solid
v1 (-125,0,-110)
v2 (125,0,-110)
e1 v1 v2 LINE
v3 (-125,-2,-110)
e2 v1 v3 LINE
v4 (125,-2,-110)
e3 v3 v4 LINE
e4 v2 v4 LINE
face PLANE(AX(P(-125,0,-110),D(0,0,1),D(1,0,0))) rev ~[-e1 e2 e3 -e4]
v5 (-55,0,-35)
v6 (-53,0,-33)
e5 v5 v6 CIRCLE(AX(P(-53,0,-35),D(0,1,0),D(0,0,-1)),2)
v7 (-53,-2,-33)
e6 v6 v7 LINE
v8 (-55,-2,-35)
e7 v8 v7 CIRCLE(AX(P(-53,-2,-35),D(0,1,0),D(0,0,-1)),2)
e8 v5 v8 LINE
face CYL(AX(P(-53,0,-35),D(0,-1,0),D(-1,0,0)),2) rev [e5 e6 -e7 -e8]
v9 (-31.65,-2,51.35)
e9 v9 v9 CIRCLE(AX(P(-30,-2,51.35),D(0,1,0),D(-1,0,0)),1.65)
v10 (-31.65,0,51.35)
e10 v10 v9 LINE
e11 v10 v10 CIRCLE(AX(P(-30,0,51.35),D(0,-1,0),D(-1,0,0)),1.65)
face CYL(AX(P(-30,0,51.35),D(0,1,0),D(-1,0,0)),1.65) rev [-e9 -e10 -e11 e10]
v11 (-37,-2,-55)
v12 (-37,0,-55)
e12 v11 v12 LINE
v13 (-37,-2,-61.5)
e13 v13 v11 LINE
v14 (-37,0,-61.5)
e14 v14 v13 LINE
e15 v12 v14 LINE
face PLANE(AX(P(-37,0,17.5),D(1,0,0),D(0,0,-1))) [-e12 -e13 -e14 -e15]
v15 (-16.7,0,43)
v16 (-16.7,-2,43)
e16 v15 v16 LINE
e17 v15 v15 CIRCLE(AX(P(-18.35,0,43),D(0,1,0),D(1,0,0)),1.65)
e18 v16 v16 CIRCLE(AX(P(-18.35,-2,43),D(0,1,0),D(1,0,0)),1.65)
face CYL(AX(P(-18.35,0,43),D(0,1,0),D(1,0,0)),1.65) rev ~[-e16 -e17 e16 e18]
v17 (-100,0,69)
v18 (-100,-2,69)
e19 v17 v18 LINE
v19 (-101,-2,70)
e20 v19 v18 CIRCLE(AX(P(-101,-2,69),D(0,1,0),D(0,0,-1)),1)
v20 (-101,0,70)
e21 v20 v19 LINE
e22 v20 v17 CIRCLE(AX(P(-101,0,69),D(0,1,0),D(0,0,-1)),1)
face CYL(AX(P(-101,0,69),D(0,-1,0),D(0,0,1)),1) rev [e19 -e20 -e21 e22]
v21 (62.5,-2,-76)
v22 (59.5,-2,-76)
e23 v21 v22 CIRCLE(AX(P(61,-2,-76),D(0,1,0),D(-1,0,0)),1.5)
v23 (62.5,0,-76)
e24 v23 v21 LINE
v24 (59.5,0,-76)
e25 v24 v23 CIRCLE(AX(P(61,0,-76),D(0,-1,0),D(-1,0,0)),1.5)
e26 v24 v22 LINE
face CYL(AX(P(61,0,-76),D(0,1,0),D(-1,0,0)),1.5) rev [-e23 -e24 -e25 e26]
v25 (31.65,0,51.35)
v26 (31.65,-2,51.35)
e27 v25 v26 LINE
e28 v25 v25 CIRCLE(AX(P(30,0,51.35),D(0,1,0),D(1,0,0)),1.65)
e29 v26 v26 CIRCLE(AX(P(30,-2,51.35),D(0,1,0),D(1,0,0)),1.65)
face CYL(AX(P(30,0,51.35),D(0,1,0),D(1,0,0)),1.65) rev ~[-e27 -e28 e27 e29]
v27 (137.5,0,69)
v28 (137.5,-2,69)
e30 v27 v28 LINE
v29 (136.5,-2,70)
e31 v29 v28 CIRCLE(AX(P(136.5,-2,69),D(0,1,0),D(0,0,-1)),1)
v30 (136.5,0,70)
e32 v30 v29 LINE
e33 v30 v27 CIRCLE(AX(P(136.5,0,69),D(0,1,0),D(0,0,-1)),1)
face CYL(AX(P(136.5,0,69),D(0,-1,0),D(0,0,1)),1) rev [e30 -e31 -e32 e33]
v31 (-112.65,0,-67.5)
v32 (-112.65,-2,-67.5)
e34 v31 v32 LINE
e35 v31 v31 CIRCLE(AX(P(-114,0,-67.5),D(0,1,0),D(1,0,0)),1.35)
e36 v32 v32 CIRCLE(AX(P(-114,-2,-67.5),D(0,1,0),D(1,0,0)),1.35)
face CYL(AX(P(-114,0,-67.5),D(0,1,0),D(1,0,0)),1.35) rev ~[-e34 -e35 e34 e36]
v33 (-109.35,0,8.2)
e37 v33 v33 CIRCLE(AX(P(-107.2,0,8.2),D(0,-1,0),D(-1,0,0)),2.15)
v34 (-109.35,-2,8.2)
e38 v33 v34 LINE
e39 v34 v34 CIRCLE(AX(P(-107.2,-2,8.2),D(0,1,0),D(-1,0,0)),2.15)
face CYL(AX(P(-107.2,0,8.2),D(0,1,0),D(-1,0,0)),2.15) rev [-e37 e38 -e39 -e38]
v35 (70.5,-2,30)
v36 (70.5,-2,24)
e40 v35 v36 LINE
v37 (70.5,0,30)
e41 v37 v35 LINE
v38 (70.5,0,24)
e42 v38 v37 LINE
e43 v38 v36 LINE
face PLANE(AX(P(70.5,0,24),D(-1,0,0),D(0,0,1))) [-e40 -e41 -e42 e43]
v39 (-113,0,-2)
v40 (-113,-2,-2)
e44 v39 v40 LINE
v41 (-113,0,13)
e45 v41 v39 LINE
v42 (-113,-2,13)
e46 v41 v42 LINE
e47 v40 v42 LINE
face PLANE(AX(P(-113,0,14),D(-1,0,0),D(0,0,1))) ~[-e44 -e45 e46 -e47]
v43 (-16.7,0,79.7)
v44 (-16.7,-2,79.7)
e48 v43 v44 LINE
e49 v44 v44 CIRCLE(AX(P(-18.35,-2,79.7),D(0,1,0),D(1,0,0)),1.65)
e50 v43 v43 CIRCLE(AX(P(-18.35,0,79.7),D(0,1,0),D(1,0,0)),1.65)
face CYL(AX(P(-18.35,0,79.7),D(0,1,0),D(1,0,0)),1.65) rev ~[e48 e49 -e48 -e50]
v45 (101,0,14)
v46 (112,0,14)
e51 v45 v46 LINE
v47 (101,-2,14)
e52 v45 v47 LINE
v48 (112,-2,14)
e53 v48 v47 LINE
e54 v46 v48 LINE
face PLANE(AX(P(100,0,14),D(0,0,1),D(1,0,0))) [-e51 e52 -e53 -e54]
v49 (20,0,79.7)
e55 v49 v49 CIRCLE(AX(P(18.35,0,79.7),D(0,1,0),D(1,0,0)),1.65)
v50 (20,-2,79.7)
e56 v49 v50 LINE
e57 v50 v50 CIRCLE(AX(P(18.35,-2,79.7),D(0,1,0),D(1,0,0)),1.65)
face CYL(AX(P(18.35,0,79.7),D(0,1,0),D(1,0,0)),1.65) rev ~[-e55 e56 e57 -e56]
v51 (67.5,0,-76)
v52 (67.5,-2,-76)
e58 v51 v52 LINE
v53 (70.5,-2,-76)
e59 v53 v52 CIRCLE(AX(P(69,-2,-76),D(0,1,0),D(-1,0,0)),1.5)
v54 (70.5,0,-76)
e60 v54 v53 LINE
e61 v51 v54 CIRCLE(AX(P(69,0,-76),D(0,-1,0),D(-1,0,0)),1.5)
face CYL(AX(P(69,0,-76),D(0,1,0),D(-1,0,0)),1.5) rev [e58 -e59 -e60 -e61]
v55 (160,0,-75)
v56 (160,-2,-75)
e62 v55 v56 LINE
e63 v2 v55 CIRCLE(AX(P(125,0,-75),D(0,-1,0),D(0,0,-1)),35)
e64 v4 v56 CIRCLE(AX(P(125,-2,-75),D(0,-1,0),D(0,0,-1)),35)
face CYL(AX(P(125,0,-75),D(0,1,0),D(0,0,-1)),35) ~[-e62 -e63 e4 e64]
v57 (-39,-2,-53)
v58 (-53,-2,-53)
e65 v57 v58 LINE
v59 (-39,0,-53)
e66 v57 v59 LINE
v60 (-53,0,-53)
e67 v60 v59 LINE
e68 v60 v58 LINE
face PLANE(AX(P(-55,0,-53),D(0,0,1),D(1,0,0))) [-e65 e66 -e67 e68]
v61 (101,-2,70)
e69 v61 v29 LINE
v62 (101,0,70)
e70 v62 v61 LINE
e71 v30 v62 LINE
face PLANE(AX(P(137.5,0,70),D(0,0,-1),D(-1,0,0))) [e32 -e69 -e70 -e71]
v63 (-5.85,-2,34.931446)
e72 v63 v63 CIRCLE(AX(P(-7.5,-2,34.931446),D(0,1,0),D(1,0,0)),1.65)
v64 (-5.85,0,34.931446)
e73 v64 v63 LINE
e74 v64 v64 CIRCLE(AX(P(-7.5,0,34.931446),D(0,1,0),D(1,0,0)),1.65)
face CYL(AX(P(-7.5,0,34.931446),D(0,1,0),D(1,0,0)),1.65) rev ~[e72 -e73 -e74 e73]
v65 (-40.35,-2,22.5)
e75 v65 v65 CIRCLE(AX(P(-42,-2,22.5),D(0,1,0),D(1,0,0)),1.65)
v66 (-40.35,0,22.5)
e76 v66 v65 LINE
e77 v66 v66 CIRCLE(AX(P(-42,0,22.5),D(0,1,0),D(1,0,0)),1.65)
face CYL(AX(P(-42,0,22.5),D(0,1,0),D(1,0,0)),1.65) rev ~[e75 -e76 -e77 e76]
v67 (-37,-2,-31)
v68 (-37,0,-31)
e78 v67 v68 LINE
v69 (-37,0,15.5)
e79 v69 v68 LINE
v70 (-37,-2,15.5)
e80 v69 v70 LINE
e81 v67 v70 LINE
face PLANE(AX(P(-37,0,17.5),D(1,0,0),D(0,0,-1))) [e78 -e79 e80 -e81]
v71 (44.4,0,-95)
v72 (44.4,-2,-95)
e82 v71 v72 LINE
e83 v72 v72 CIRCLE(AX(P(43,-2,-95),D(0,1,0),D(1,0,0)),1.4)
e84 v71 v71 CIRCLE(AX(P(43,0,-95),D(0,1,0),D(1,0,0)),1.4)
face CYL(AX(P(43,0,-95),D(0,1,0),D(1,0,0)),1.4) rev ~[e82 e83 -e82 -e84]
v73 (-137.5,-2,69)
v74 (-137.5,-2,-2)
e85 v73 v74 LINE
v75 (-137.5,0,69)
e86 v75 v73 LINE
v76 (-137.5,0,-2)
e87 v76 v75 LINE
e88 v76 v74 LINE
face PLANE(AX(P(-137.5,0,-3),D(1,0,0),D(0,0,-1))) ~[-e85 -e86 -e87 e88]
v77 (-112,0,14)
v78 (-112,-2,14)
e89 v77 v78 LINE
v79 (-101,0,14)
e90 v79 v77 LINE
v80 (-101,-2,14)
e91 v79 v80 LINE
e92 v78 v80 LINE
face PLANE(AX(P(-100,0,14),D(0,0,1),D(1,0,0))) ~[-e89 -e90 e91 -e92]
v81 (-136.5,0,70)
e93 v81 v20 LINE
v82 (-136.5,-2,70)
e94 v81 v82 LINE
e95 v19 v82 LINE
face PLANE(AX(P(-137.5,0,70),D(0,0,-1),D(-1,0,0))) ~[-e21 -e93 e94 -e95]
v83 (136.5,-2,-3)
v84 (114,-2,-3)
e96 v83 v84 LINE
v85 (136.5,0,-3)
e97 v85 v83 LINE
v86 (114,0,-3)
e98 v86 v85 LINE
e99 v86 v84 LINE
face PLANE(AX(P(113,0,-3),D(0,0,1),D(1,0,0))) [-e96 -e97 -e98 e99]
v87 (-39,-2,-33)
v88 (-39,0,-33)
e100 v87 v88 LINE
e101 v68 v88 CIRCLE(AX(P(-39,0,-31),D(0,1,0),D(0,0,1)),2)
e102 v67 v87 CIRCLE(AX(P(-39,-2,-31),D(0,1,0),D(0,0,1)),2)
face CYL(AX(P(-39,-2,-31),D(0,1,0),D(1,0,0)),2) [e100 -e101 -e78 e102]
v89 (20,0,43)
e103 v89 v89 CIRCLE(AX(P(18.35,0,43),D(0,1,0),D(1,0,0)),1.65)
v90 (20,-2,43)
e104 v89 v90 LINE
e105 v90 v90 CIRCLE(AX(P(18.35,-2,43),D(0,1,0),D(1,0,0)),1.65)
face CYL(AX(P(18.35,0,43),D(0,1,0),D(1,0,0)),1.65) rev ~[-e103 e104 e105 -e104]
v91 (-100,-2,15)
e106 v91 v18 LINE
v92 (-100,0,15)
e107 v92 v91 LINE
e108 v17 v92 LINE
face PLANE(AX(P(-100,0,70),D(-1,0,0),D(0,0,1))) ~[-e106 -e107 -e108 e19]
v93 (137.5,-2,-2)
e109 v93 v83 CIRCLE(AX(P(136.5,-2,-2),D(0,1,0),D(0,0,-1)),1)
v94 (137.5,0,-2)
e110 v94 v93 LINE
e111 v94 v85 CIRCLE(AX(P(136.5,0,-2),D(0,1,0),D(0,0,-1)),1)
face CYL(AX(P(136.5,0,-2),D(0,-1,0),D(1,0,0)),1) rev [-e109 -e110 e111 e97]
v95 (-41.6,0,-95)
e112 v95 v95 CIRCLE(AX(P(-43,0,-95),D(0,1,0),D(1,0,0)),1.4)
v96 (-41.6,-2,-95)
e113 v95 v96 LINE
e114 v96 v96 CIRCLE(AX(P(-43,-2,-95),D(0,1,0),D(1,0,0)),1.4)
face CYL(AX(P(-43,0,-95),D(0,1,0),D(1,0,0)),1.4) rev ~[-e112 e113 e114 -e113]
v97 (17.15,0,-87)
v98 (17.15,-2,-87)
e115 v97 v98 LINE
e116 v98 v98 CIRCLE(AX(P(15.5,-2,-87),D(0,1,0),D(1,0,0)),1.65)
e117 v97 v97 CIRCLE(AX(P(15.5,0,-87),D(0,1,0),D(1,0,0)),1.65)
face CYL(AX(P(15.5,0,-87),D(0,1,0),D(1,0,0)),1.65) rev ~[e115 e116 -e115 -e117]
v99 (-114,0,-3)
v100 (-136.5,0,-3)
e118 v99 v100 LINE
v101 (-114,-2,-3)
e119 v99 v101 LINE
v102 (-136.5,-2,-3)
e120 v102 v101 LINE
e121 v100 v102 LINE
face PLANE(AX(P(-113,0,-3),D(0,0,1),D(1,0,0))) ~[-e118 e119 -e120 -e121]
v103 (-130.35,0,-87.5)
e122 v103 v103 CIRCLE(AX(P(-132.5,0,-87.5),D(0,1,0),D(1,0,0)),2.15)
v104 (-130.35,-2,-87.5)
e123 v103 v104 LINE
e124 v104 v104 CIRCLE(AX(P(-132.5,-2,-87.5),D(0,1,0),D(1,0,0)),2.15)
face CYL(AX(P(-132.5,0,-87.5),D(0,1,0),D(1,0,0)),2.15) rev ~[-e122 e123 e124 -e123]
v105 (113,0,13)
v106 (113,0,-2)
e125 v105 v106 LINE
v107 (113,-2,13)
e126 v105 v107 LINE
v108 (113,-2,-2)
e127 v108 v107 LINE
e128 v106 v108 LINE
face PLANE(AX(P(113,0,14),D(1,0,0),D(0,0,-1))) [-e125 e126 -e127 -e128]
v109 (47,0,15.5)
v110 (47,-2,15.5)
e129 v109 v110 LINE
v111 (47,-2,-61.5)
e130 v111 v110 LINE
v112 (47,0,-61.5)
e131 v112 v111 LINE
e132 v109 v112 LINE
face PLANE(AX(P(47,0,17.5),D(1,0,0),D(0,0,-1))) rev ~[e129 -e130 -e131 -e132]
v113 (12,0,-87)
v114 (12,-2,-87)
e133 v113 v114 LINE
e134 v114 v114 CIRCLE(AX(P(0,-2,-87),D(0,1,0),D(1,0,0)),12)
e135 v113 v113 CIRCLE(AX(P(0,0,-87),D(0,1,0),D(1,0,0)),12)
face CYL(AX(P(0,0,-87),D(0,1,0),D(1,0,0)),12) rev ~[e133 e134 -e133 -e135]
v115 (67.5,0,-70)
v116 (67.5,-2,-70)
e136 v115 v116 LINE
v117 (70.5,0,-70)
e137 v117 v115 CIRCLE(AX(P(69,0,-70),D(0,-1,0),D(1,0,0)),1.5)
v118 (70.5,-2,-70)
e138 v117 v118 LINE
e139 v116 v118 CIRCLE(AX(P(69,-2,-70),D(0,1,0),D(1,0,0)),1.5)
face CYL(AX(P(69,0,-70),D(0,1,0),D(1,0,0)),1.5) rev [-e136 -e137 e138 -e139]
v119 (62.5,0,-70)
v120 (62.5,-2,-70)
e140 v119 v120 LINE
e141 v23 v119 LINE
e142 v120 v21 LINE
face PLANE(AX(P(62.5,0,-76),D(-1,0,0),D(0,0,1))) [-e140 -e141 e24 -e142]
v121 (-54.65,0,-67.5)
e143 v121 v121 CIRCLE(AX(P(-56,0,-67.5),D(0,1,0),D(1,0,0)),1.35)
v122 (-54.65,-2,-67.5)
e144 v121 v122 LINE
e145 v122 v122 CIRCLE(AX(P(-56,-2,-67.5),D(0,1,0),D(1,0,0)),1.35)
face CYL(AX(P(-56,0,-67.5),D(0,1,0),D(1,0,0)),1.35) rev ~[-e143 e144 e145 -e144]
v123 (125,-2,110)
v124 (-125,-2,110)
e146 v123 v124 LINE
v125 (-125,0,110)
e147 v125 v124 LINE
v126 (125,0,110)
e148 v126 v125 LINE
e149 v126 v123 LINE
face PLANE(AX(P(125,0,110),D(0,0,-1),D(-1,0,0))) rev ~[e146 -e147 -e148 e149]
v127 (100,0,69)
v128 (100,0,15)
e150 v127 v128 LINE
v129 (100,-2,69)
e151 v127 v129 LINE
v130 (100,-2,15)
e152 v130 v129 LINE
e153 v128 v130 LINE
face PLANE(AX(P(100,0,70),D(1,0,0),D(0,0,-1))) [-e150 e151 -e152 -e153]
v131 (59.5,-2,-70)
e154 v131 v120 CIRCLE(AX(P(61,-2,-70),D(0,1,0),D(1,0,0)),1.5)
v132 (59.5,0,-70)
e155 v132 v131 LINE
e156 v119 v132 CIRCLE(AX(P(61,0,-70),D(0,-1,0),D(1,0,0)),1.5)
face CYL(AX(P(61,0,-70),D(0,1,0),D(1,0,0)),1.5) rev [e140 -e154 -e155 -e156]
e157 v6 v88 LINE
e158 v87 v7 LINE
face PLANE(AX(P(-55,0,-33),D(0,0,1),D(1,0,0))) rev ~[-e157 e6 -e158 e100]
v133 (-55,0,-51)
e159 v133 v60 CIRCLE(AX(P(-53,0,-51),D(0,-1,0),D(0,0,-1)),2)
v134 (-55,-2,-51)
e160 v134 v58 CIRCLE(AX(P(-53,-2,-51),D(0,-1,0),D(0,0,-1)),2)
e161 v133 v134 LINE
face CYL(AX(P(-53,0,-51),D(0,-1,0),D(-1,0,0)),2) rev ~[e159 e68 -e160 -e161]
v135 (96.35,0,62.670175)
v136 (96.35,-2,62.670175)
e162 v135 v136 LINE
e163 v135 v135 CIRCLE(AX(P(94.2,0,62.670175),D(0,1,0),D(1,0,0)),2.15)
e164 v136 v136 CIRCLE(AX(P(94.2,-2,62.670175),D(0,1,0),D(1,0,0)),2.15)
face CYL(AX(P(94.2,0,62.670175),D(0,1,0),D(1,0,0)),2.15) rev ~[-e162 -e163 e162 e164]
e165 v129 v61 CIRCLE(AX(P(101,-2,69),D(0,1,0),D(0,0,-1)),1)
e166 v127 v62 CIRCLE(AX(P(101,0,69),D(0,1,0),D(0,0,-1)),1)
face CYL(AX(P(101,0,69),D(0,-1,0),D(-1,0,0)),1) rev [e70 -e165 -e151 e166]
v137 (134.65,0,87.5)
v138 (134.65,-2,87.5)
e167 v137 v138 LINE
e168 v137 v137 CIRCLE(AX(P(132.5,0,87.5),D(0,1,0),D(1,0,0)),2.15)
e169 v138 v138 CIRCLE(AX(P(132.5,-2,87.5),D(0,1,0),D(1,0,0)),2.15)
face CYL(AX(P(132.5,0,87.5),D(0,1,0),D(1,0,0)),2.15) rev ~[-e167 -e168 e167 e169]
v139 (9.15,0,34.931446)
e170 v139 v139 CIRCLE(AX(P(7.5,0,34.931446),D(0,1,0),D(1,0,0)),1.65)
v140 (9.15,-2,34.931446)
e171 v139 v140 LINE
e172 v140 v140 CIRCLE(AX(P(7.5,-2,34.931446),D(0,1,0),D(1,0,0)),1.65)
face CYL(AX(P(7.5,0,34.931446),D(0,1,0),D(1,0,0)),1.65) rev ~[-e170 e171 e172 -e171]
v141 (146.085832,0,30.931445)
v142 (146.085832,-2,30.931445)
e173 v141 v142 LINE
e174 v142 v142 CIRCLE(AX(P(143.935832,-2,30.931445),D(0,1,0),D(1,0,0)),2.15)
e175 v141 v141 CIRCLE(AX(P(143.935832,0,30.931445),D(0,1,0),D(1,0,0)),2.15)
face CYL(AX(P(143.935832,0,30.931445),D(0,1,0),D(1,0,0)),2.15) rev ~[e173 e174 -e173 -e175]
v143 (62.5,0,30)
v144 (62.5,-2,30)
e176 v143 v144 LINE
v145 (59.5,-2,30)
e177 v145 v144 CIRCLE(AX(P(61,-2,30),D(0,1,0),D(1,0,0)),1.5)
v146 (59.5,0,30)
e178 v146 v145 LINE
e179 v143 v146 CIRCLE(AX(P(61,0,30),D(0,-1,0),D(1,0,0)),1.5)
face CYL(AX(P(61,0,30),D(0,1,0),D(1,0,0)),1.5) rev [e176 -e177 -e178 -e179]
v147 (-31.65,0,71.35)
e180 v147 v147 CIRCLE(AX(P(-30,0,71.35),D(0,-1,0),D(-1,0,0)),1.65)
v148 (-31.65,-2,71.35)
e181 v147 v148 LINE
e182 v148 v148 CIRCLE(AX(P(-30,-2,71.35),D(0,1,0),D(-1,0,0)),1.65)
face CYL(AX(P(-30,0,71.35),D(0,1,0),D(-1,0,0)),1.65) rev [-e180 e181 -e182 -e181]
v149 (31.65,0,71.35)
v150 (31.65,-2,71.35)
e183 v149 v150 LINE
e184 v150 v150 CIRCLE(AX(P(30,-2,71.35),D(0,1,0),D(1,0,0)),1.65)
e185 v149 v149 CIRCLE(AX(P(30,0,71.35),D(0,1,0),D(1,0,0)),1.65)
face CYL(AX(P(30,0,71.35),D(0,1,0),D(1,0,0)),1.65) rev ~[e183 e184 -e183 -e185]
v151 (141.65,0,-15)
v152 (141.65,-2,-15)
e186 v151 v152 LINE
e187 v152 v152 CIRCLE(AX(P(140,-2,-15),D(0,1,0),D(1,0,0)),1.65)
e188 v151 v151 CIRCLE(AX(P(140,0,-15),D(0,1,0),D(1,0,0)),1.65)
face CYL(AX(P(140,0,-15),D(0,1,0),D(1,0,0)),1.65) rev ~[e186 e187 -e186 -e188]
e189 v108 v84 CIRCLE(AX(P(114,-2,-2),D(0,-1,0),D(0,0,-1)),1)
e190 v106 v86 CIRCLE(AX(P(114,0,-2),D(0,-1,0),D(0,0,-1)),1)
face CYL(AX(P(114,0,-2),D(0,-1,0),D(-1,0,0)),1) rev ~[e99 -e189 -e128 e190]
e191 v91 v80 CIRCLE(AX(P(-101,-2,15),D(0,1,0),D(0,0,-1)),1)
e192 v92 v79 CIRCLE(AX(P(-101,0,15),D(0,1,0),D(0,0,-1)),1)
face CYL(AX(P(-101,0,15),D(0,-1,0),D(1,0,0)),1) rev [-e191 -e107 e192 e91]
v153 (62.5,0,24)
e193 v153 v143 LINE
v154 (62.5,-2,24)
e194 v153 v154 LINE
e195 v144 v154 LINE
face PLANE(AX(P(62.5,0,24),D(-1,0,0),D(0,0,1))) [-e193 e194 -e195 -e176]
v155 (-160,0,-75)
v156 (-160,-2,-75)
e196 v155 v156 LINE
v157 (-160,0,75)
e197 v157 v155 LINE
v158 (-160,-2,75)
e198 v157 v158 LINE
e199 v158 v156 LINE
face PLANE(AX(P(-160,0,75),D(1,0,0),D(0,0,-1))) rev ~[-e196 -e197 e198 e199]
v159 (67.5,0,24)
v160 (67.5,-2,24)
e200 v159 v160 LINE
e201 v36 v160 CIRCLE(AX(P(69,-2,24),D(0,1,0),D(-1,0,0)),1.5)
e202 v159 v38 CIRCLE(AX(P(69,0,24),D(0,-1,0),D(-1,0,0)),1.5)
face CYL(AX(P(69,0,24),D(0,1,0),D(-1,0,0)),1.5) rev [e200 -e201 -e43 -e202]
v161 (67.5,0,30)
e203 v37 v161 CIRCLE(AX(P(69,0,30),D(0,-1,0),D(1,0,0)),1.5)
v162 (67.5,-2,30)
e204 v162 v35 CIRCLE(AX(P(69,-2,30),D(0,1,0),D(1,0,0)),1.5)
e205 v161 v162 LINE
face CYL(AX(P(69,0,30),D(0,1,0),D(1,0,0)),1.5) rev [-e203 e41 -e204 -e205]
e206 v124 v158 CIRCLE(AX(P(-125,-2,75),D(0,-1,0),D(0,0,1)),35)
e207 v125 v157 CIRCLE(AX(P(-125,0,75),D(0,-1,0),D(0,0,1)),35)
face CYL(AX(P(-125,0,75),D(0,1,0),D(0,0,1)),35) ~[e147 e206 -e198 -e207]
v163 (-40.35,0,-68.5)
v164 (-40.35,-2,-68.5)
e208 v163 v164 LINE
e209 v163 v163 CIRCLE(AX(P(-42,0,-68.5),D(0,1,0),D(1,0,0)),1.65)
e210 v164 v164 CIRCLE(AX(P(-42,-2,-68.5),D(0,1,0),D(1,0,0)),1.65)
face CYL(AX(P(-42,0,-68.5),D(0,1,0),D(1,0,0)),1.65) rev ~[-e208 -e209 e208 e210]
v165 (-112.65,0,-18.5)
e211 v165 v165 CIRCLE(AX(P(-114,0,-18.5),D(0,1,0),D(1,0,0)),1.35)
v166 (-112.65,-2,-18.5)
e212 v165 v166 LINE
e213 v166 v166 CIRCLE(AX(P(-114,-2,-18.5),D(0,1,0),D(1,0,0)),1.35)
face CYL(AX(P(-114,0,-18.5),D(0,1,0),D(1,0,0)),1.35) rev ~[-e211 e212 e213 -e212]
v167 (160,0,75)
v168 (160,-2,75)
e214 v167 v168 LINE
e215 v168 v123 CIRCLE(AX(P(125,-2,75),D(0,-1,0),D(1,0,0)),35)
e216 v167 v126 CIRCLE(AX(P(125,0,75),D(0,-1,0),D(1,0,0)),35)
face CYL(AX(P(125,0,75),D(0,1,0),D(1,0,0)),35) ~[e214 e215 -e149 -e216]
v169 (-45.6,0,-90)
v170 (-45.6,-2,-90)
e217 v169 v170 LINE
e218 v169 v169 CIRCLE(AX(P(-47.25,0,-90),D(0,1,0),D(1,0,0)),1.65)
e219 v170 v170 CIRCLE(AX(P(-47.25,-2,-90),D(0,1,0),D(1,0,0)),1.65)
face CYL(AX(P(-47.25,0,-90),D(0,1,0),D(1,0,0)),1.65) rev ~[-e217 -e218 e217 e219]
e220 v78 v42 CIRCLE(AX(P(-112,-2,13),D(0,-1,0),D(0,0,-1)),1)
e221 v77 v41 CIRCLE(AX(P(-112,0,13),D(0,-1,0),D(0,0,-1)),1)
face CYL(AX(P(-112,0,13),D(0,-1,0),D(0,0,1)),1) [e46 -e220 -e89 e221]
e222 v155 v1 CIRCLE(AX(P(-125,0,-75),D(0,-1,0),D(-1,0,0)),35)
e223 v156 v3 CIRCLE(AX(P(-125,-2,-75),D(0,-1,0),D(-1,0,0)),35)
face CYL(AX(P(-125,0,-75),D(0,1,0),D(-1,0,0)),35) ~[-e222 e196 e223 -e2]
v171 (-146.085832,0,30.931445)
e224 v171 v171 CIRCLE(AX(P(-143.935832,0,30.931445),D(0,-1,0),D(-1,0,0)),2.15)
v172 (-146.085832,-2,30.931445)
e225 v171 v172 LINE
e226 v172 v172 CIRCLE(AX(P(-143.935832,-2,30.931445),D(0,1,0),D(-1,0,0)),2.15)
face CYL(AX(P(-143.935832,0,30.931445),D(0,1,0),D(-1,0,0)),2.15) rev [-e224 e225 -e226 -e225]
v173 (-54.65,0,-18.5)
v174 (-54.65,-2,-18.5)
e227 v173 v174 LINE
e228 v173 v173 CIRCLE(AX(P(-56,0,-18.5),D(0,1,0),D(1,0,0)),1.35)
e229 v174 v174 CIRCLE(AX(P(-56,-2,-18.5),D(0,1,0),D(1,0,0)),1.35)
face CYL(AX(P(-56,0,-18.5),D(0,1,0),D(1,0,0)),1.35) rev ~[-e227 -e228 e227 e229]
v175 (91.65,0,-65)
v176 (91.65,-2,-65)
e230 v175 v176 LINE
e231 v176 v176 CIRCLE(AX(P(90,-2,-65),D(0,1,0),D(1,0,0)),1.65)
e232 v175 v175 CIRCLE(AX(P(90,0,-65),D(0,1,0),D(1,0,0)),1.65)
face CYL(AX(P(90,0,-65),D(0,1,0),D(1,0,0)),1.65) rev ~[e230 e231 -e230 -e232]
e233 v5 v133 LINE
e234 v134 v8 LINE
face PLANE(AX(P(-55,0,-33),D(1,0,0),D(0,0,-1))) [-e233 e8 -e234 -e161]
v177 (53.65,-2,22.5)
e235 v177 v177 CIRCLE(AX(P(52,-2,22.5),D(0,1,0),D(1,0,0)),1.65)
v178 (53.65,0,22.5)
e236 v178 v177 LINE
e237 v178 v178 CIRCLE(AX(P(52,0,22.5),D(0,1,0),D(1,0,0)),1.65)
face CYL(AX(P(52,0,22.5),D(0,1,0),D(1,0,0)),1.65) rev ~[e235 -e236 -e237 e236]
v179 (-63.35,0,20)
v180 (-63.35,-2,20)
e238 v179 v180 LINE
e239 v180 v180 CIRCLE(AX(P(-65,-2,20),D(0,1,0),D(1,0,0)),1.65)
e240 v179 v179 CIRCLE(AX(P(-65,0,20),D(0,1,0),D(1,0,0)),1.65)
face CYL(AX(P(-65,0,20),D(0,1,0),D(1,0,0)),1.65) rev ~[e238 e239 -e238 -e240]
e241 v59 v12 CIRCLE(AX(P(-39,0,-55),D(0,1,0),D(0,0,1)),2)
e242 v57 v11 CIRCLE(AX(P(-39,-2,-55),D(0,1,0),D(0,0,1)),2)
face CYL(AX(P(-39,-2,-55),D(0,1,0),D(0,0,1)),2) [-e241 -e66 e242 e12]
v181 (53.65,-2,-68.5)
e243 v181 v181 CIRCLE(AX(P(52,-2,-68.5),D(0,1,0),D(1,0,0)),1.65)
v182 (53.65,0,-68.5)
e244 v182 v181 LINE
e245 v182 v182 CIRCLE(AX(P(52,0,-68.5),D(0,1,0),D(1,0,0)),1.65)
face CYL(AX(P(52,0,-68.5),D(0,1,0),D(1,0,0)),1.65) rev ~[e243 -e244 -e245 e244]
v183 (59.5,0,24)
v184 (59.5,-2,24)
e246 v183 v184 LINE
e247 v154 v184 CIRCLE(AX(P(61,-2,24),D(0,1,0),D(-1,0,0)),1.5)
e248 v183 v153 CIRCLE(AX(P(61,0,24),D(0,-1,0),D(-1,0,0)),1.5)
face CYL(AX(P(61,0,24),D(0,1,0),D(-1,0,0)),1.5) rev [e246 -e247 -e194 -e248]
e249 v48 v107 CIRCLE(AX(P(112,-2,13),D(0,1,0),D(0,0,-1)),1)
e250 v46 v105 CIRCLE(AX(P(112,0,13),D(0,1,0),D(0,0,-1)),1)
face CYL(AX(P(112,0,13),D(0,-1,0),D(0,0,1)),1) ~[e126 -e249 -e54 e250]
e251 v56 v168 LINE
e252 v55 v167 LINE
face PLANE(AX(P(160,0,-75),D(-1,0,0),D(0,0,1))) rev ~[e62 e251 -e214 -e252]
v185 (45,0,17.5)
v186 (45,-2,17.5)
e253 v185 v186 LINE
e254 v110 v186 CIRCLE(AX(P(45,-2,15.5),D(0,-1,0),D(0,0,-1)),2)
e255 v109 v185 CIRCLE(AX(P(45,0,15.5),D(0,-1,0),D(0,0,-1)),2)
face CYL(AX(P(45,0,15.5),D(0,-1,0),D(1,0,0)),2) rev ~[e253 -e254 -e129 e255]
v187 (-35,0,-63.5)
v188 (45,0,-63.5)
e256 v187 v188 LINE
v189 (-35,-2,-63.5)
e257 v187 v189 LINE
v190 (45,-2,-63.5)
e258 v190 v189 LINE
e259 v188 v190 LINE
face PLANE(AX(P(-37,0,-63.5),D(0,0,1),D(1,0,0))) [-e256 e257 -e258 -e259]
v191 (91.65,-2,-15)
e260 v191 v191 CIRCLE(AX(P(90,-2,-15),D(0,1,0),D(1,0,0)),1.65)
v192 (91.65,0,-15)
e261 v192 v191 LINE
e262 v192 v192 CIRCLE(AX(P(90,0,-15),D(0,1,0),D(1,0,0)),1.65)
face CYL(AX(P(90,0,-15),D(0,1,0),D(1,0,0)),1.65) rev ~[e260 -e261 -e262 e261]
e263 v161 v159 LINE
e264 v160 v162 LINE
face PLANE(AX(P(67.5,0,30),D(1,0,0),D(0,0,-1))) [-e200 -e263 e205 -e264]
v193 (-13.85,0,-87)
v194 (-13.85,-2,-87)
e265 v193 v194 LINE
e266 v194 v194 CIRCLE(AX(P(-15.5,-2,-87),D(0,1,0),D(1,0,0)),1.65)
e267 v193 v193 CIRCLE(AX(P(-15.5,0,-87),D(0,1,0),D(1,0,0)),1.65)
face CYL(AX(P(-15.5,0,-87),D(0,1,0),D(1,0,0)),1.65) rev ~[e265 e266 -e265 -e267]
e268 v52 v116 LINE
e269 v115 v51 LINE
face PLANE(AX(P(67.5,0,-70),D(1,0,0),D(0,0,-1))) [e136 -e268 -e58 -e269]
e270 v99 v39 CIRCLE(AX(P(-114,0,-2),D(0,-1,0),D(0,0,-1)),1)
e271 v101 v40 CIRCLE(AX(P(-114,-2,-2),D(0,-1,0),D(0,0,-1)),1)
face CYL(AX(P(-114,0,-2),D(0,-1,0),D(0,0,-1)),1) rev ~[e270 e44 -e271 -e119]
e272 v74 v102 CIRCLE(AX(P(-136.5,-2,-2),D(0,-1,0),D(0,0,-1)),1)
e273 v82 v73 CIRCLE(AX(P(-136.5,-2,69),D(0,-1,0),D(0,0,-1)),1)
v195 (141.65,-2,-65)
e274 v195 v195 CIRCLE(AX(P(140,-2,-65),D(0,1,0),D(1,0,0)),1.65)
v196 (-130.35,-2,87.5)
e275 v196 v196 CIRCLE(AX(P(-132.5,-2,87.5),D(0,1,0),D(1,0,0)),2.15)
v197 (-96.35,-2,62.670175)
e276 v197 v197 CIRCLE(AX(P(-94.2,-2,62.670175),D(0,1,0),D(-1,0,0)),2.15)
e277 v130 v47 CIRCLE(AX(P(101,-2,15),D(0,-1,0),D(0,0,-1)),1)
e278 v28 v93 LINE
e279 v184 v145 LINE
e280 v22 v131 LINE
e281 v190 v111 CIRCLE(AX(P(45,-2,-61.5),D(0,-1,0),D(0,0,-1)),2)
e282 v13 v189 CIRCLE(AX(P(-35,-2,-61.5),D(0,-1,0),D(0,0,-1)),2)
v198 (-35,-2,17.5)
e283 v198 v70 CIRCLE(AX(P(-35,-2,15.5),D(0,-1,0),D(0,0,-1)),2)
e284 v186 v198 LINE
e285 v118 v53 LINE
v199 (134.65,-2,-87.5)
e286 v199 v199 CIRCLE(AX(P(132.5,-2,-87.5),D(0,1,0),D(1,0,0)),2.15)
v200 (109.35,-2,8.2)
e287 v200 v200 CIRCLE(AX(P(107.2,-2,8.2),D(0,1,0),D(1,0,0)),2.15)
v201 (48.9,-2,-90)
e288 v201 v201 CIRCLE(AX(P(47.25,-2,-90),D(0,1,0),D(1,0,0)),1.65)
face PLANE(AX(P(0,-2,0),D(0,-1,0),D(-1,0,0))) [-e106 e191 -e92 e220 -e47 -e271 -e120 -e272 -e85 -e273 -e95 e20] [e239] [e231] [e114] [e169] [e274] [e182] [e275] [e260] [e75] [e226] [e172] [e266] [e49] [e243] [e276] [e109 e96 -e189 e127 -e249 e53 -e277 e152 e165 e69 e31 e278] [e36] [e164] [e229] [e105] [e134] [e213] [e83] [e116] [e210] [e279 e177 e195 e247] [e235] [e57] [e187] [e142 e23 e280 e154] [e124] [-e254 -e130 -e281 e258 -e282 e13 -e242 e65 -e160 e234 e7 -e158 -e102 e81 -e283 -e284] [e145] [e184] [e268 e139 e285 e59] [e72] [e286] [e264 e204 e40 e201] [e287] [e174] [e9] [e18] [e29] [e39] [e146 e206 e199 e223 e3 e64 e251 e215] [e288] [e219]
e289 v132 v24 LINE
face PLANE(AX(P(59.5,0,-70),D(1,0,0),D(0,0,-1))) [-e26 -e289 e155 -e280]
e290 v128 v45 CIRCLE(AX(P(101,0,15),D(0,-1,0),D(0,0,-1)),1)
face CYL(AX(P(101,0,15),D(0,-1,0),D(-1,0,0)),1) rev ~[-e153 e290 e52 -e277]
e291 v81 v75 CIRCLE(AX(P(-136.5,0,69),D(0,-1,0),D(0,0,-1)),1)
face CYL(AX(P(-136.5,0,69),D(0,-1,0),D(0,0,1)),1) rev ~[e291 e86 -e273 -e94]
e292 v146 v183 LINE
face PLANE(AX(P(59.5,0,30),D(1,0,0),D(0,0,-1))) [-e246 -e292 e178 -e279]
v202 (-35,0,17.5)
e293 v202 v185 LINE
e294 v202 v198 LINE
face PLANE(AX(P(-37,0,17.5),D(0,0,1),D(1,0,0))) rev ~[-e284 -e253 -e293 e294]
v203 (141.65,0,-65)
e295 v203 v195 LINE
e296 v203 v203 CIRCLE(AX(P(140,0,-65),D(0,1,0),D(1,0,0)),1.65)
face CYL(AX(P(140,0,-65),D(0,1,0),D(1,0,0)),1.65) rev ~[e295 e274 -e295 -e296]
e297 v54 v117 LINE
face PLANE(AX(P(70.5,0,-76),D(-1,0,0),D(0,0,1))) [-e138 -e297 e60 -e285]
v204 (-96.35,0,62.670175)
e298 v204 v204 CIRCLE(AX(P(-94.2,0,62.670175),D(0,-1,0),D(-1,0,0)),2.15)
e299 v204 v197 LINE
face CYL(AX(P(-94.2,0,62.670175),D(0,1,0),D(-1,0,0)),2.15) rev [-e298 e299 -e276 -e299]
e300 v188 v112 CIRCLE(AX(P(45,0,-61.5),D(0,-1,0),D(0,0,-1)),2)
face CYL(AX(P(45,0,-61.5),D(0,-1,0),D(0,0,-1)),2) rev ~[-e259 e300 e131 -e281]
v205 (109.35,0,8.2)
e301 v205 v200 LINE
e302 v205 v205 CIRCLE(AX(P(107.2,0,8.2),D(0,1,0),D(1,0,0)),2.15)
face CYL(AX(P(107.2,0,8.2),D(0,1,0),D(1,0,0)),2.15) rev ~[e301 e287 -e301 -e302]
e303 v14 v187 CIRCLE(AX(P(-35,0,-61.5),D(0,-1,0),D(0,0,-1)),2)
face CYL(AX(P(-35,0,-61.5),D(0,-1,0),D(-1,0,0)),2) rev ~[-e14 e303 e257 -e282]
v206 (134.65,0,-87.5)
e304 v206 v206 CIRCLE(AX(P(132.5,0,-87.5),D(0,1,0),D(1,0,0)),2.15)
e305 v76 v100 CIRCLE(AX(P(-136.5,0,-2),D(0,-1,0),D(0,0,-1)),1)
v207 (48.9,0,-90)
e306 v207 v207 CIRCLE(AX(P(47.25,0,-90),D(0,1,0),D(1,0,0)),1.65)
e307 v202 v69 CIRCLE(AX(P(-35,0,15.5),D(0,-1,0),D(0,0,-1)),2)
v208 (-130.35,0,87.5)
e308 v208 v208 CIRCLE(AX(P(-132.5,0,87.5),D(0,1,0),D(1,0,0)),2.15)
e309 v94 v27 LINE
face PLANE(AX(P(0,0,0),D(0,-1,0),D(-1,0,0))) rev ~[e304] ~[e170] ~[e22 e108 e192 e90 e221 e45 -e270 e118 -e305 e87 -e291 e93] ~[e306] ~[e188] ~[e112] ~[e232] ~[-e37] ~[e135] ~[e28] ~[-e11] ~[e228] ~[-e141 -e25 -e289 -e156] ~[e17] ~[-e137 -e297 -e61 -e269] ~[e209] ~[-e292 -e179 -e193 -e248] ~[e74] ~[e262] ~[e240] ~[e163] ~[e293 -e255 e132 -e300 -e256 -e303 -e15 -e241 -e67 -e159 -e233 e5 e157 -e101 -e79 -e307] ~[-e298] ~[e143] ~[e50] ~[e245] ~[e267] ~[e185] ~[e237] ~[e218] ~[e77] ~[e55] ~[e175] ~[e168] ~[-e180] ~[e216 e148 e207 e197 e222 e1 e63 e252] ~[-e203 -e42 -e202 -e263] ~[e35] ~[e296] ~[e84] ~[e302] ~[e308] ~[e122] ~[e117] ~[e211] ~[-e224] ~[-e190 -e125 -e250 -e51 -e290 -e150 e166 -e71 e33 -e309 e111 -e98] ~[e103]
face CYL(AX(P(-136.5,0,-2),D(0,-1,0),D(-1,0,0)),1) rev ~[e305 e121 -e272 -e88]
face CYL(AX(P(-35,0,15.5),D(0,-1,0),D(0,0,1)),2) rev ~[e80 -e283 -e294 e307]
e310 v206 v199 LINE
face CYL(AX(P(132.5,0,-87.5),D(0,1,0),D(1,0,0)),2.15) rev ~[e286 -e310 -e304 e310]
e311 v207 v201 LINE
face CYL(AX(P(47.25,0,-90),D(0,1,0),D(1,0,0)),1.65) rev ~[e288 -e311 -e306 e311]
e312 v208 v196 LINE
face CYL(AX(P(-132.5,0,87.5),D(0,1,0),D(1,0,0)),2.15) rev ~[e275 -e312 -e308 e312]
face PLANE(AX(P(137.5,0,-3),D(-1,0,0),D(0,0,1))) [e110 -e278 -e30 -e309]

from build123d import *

# Parameters (mm, degrees)
BOSS_EXTRUDE1_DEPTH  = 2
CUT_EXTRUDE8_DEPTH   = 3
SKETCH3_R            = 2.15
CUT_EXTRUDE9_DEPTH   = 3
SKETCH4_R            = 12
SKETCH4_R_2          = 1.65
CUT_EXTRUDE10_DEPTH  = 3
SKETCH8_R            = 2.15
CUT_EXTRUDE11_DEPTH  = 3
FILLET1_R            = 1
FILLET1_OF_MIRROR1_R = 1
SKETCH10_R           = 1.65
SKETCH10_R_2         = 1.35
SKETCH10_W           = 40
SKETCH10_H           = 20
CUT_EXTRUDE13_DEPTH  = 3
SKETCH12_R           = 1.65
SKETCH12_W           = 84
SKETCH12_H           = 81
CUT_EXTRUDE15_DEPTH  = 3
FILLET3_R            = 2
SKETCH11_R           = 1.65
CUT_EXTRUDE14_DEPTH  = 3
SKETCH13_R           = 1.65
SKETCH13_R_2         = 1.4
CUT_EXTRUDE16_DEPTH  = 3
SKETCH14_R           = 1.65
CUT_EXTRUDE17_DEPTH  = 3
CUT_EXTRUDE18_DEPTH  = 3


with BuildPart() as part:
    # Sketch1 → Boss-Extrude1 (new body)
    with BuildSketch(Plane(origin=(0, 0, 0), x_dir=(1, 0, 0), z_dir=(0, 1, 0))):
        with BuildLine():
            Line((125, -110), (-125, -110))
            ThreePointArc((-125, -110), (-149.748737342, -99.748737342), (-160, -75))
            Line((-160, -75), (-160, 75))
            ThreePointArc((-160, 75), (-149.748737342, 99.748737342), (-125, 110))
            Line((-125, 110), (125, 110))
            ThreePointArc((125, 110), (149.748737342, 99.748737342), (160, 75))
            Line((160, 75), (160, -75))
            ThreePointArc((160, -75), (149.748737342, -99.748737342), (125, -110))
        make_face()
    extrude(amount=-BOSS_EXTRUDE1_DEPTH)

    # Sketch2 → Cut-Extrude8 (cut, through all)
    with BuildSketch(Plane(origin=(0, 0, 0), x_dir=(1, 0, 0), z_dir=(0, 1, 0))):
        Polygon((100, -70), (100, -14), (113, -14), (113, 3), (137.5, 3), (137.5, -70), align=None)
    cut_extrude8 = extrude(amount=-CUT_EXTRUDE8_DEPTH, mode=Mode.SUBTRACT)

    # Sketch3 → Cut-Extrude9 (cut, through all)
    with BuildSketch(Plane(origin=(0, 0, 0), x_dir=(1, 0, 0), z_dir=(0, 1, 0))):
        with Locations((94.2, -62.670175326)):
            Circle(SKETCH3_R)
        with Locations((107.2, -8.2)):
            Circle(SKETCH3_R)
        with Locations((143.935832446, -30.9314455)):
            Circle(SKETCH3_R)
    cut_extrude9 = extrude(amount=-CUT_EXTRUDE9_DEPTH, mode=Mode.SUBTRACT)

    # Sketch4 → Cut-Extrude10 (cut, through all)
    with BuildSketch(Plane(origin=(0, 0, 0), x_dir=(1, 0, 0), z_dir=(0, 1, 0))):
        with Locations((0, 87)):
            Circle(SKETCH4_R)
        with Locations((-15.5, 87)):
            Circle(SKETCH4_R_2)
        with Locations((15.5, 87)):
            Circle(SKETCH4_R_2)
    extrude(amount=-CUT_EXTRUDE10_DEPTH, mode=Mode.SUBTRACT)

    # Sketch8 → Cut-Extrude11 (cut, through all)
    with BuildSketch(Plane(origin=(0, 0, 0), x_dir=(1, 0, 0), z_dir=(0, 1, 0))):
        with Locations((-132.5, 87.5)):
            Circle(SKETCH8_R)
        with Locations((132.5, 87.5)):
            Circle(SKETCH8_R)
        with Locations((-132.5, -87.5)):
            Circle(SKETCH8_R)
        with Locations((132.5, -87.5)):
            Circle(SKETCH8_R)
    extrude(amount=-CUT_EXTRUDE11_DEPTH, mode=Mode.SUBTRACT)

    # Fillet1
    fillet1_edges = [part.edges().sort_by_distance(p)[0] for p in [
        (137.5, -1, 70),
        (100, -1, 70),
        (100, -1, 14),
        (113, -1, 14),
        (113, -1, -3),
        (137.5, -1, -3),
    ]]
    fillet(fillet1_edges, radius=FILLET1_R)

    # Mirror1: Cut-Extrude8, Cut-Extrude9 across plane
    add(cut_extrude8.mirror(Plane(origin=(0, 0, 0), x_dir=(0, 0, 1), z_dir=(1, 0, 0))), mode=Mode.SUBTRACT)
    add(cut_extrude9.mirror(Plane(origin=(0, 0, 0), x_dir=(0, 0, 1), z_dir=(1, 0, 0))), mode=Mode.SUBTRACT)

    # Fillet1 of Mirror1
    fillet1_of_mirror1_edges = [part.edges().sort_by_distance(p)[0] for p in [
        (-137.5, -1, 70),
        (-100, -1, 70),
        (-100, -1, 14),
        (-113, -1, 14),
        (-113, -1, -3),
        (-137.5, -1, -3),
    ]]
    fillet(fillet1_of_mirror1_edges, radius=FILLET1_OF_MIRROR1_R)

    # Sketch10 → Cut-Extrude13 (cut, through all)
    with BuildSketch(Plane(origin=(0, 0, 0), x_dir=(1, 0, 0), z_dir=(0, 1, 0))):
        with Locations((18.35, -43)):
            Circle(SKETCH10_R)
        with Locations((-18.35, -43)):
            Circle(SKETCH10_R)
        with Locations((-18.35, -79.7)):
            Circle(SKETCH10_R)
        with Locations((18.35, -79.7)):
            Circle(SKETCH10_R)
        with Locations((-56, 67.5)):
            Circle(SKETCH10_R_2)
        with Locations((-114, 67.5)):
            Circle(SKETCH10_R_2)
        with Locations((-114, 18.5)):
            Circle(SKETCH10_R_2)
        with Locations((-56, 18.5)):
            Circle(SKETCH10_R_2)
        with Locations((-7.5, -34.9314455)):
            Circle(SKETCH10_R)
        with Locations((7.5, -34.9314455)):
            Circle(SKETCH10_R)
        with Locations((-35, 43)):
            Rectangle(SKETCH10_W, SKETCH10_H)
    extrude(amount=-CUT_EXTRUDE13_DEPTH, mode=Mode.SUBTRACT)

    # Sketch12 → Cut-Extrude15 (cut, through all)
    with BuildSketch(Plane(origin=(0, 0, 0), x_dir=(1, 0, 0), z_dir=(0, 1, 0))):
        with Locations((-42, 68.5)):
            Circle(SKETCH12_R)
        with Locations((52, 68.5)):
            Circle(SKETCH12_R)
        with Locations((-42, -22.5)):
            Circle(SKETCH12_R)
        with Locations((52, -22.5)):
            Circle(SKETCH12_R)
        with Locations((5, 23)):
            Rectangle(SKETCH12_W, SKETCH12_H)
    extrude(amount=-CUT_EXTRUDE15_DEPTH, mode=Mode.SUBTRACT)

    # Fillet3
    fillet3_edges = [part.edges().sort_by_distance(p)[0] for p in [
        (-55, -1, -33),
        (-55, -1, -53),
        (-37, -1, -53),
        (-37, -1, -33),
        (-37, -1, 17.5),
        (-37, -1, -63.5),
        (47, -1, -63.5),
        (47, -1, 17.5),
    ]]
    fillet(fillet3_edges, radius=FILLET3_R)

    # Sketch11 → Cut-Extrude14 (cut, through all)
    with BuildSketch(Plane(origin=(0, 0, 0), x_dir=(1, 0, 0), z_dir=(0, 1, 0))):
        with Locations((90, 65)):
            Circle(SKETCH11_R)
        with Locations((140, 65)):
            Circle(SKETCH11_R)
        with Locations((90, 15)):
            Circle(SKETCH11_R)
        with Locations((140, 15)):
            Circle(SKETCH11_R)
        with Locations((-65, -20)):
            Circle(SKETCH11_R)
    extrude(amount=-CUT_EXTRUDE14_DEPTH, mode=Mode.SUBTRACT)

    # Sketch13 → Cut-Extrude16 (cut, through all)
    with BuildSketch(Plane(origin=(0, 0, 0), x_dir=(1, 0, 0), z_dir=(0, 1, 0))):
        with Locations((-47.25, 90)):
            Circle(SKETCH13_R)
        with Locations((47.25, 90)):
            Circle(SKETCH13_R)
        with Locations((-43, 95)):
            Circle(SKETCH13_R_2)
        with Locations((43, 95)):
            Circle(SKETCH13_R_2)
    extrude(amount=-CUT_EXTRUDE16_DEPTH, mode=Mode.SUBTRACT)

    # Sketch14 → Cut-Extrude17 (cut, through all)
    with BuildSketch(Plane(origin=(0, 0, 0), x_dir=(1, 0, 0), z_dir=(0, 1, 0))):
        with Locations((30, -51.35)):
            Circle(SKETCH14_R)
        with Locations((30, -71.35)):
            Circle(SKETCH14_R)
    cut_extrude17 = extrude(amount=-CUT_EXTRUDE17_DEPTH, mode=Mode.SUBTRACT)

    # Mirror2: Cut-Extrude17 across plane
    add(cut_extrude17.mirror(Plane(origin=(0, 0, 0), x_dir=(0, 0, 1), z_dir=(1, 0, 0))), mode=Mode.SUBTRACT)

    # Sketch16 → Cut-Extrude18 (cut, through all)
    with BuildSketch(Plane(origin=(0, 0, 0), x_dir=(1, 0, 0), z_dir=(0, 1, 0))):
        with BuildLine():
            Line((59.5, 70), (59.5, 76))
            ThreePointArc((59.5, 76), (61, 77.5), (62.5, 76))
            Line((62.5, 76), (62.5, 70))
            ThreePointArc((62.5, 70), (61, 68.5), (59.5, 70))
        make_face()
        with BuildLine():
            Line((67.5, 70), (67.5, 76))
            ThreePointArc((67.5, 76), (69, 77.5), (70.5, 76))
            Line((70.5, 76), (70.5, 70))
            ThreePointArc((70.5, 70), (69, 68.5), (67.5, 70))
        make_face()
        with BuildLine():
            Line((59.5, -30), (59.5, -24))
            ThreePointArc((59.5, -24), (61, -22.5), (62.5, -24))
            Line((62.5, -24), (62.5, -30))
            ThreePointArc((62.5, -30), (61, -31.5), (59.5, -30))
        make_face()
        with BuildLine():
            Line((67.5, -30), (67.5, -24))
            ThreePointArc((67.5, -24), (69, -22.5), (70.5, -24))
            Line((70.5, -24), (70.5, -30))
            ThreePointArc((70.5, -30), (69, -31.5), (67.5, -30))
        make_face()
    extrude(amount=-CUT_EXTRUDE18_DEPTH, mode=Mode.SUBTRACT)


solid = part.part
